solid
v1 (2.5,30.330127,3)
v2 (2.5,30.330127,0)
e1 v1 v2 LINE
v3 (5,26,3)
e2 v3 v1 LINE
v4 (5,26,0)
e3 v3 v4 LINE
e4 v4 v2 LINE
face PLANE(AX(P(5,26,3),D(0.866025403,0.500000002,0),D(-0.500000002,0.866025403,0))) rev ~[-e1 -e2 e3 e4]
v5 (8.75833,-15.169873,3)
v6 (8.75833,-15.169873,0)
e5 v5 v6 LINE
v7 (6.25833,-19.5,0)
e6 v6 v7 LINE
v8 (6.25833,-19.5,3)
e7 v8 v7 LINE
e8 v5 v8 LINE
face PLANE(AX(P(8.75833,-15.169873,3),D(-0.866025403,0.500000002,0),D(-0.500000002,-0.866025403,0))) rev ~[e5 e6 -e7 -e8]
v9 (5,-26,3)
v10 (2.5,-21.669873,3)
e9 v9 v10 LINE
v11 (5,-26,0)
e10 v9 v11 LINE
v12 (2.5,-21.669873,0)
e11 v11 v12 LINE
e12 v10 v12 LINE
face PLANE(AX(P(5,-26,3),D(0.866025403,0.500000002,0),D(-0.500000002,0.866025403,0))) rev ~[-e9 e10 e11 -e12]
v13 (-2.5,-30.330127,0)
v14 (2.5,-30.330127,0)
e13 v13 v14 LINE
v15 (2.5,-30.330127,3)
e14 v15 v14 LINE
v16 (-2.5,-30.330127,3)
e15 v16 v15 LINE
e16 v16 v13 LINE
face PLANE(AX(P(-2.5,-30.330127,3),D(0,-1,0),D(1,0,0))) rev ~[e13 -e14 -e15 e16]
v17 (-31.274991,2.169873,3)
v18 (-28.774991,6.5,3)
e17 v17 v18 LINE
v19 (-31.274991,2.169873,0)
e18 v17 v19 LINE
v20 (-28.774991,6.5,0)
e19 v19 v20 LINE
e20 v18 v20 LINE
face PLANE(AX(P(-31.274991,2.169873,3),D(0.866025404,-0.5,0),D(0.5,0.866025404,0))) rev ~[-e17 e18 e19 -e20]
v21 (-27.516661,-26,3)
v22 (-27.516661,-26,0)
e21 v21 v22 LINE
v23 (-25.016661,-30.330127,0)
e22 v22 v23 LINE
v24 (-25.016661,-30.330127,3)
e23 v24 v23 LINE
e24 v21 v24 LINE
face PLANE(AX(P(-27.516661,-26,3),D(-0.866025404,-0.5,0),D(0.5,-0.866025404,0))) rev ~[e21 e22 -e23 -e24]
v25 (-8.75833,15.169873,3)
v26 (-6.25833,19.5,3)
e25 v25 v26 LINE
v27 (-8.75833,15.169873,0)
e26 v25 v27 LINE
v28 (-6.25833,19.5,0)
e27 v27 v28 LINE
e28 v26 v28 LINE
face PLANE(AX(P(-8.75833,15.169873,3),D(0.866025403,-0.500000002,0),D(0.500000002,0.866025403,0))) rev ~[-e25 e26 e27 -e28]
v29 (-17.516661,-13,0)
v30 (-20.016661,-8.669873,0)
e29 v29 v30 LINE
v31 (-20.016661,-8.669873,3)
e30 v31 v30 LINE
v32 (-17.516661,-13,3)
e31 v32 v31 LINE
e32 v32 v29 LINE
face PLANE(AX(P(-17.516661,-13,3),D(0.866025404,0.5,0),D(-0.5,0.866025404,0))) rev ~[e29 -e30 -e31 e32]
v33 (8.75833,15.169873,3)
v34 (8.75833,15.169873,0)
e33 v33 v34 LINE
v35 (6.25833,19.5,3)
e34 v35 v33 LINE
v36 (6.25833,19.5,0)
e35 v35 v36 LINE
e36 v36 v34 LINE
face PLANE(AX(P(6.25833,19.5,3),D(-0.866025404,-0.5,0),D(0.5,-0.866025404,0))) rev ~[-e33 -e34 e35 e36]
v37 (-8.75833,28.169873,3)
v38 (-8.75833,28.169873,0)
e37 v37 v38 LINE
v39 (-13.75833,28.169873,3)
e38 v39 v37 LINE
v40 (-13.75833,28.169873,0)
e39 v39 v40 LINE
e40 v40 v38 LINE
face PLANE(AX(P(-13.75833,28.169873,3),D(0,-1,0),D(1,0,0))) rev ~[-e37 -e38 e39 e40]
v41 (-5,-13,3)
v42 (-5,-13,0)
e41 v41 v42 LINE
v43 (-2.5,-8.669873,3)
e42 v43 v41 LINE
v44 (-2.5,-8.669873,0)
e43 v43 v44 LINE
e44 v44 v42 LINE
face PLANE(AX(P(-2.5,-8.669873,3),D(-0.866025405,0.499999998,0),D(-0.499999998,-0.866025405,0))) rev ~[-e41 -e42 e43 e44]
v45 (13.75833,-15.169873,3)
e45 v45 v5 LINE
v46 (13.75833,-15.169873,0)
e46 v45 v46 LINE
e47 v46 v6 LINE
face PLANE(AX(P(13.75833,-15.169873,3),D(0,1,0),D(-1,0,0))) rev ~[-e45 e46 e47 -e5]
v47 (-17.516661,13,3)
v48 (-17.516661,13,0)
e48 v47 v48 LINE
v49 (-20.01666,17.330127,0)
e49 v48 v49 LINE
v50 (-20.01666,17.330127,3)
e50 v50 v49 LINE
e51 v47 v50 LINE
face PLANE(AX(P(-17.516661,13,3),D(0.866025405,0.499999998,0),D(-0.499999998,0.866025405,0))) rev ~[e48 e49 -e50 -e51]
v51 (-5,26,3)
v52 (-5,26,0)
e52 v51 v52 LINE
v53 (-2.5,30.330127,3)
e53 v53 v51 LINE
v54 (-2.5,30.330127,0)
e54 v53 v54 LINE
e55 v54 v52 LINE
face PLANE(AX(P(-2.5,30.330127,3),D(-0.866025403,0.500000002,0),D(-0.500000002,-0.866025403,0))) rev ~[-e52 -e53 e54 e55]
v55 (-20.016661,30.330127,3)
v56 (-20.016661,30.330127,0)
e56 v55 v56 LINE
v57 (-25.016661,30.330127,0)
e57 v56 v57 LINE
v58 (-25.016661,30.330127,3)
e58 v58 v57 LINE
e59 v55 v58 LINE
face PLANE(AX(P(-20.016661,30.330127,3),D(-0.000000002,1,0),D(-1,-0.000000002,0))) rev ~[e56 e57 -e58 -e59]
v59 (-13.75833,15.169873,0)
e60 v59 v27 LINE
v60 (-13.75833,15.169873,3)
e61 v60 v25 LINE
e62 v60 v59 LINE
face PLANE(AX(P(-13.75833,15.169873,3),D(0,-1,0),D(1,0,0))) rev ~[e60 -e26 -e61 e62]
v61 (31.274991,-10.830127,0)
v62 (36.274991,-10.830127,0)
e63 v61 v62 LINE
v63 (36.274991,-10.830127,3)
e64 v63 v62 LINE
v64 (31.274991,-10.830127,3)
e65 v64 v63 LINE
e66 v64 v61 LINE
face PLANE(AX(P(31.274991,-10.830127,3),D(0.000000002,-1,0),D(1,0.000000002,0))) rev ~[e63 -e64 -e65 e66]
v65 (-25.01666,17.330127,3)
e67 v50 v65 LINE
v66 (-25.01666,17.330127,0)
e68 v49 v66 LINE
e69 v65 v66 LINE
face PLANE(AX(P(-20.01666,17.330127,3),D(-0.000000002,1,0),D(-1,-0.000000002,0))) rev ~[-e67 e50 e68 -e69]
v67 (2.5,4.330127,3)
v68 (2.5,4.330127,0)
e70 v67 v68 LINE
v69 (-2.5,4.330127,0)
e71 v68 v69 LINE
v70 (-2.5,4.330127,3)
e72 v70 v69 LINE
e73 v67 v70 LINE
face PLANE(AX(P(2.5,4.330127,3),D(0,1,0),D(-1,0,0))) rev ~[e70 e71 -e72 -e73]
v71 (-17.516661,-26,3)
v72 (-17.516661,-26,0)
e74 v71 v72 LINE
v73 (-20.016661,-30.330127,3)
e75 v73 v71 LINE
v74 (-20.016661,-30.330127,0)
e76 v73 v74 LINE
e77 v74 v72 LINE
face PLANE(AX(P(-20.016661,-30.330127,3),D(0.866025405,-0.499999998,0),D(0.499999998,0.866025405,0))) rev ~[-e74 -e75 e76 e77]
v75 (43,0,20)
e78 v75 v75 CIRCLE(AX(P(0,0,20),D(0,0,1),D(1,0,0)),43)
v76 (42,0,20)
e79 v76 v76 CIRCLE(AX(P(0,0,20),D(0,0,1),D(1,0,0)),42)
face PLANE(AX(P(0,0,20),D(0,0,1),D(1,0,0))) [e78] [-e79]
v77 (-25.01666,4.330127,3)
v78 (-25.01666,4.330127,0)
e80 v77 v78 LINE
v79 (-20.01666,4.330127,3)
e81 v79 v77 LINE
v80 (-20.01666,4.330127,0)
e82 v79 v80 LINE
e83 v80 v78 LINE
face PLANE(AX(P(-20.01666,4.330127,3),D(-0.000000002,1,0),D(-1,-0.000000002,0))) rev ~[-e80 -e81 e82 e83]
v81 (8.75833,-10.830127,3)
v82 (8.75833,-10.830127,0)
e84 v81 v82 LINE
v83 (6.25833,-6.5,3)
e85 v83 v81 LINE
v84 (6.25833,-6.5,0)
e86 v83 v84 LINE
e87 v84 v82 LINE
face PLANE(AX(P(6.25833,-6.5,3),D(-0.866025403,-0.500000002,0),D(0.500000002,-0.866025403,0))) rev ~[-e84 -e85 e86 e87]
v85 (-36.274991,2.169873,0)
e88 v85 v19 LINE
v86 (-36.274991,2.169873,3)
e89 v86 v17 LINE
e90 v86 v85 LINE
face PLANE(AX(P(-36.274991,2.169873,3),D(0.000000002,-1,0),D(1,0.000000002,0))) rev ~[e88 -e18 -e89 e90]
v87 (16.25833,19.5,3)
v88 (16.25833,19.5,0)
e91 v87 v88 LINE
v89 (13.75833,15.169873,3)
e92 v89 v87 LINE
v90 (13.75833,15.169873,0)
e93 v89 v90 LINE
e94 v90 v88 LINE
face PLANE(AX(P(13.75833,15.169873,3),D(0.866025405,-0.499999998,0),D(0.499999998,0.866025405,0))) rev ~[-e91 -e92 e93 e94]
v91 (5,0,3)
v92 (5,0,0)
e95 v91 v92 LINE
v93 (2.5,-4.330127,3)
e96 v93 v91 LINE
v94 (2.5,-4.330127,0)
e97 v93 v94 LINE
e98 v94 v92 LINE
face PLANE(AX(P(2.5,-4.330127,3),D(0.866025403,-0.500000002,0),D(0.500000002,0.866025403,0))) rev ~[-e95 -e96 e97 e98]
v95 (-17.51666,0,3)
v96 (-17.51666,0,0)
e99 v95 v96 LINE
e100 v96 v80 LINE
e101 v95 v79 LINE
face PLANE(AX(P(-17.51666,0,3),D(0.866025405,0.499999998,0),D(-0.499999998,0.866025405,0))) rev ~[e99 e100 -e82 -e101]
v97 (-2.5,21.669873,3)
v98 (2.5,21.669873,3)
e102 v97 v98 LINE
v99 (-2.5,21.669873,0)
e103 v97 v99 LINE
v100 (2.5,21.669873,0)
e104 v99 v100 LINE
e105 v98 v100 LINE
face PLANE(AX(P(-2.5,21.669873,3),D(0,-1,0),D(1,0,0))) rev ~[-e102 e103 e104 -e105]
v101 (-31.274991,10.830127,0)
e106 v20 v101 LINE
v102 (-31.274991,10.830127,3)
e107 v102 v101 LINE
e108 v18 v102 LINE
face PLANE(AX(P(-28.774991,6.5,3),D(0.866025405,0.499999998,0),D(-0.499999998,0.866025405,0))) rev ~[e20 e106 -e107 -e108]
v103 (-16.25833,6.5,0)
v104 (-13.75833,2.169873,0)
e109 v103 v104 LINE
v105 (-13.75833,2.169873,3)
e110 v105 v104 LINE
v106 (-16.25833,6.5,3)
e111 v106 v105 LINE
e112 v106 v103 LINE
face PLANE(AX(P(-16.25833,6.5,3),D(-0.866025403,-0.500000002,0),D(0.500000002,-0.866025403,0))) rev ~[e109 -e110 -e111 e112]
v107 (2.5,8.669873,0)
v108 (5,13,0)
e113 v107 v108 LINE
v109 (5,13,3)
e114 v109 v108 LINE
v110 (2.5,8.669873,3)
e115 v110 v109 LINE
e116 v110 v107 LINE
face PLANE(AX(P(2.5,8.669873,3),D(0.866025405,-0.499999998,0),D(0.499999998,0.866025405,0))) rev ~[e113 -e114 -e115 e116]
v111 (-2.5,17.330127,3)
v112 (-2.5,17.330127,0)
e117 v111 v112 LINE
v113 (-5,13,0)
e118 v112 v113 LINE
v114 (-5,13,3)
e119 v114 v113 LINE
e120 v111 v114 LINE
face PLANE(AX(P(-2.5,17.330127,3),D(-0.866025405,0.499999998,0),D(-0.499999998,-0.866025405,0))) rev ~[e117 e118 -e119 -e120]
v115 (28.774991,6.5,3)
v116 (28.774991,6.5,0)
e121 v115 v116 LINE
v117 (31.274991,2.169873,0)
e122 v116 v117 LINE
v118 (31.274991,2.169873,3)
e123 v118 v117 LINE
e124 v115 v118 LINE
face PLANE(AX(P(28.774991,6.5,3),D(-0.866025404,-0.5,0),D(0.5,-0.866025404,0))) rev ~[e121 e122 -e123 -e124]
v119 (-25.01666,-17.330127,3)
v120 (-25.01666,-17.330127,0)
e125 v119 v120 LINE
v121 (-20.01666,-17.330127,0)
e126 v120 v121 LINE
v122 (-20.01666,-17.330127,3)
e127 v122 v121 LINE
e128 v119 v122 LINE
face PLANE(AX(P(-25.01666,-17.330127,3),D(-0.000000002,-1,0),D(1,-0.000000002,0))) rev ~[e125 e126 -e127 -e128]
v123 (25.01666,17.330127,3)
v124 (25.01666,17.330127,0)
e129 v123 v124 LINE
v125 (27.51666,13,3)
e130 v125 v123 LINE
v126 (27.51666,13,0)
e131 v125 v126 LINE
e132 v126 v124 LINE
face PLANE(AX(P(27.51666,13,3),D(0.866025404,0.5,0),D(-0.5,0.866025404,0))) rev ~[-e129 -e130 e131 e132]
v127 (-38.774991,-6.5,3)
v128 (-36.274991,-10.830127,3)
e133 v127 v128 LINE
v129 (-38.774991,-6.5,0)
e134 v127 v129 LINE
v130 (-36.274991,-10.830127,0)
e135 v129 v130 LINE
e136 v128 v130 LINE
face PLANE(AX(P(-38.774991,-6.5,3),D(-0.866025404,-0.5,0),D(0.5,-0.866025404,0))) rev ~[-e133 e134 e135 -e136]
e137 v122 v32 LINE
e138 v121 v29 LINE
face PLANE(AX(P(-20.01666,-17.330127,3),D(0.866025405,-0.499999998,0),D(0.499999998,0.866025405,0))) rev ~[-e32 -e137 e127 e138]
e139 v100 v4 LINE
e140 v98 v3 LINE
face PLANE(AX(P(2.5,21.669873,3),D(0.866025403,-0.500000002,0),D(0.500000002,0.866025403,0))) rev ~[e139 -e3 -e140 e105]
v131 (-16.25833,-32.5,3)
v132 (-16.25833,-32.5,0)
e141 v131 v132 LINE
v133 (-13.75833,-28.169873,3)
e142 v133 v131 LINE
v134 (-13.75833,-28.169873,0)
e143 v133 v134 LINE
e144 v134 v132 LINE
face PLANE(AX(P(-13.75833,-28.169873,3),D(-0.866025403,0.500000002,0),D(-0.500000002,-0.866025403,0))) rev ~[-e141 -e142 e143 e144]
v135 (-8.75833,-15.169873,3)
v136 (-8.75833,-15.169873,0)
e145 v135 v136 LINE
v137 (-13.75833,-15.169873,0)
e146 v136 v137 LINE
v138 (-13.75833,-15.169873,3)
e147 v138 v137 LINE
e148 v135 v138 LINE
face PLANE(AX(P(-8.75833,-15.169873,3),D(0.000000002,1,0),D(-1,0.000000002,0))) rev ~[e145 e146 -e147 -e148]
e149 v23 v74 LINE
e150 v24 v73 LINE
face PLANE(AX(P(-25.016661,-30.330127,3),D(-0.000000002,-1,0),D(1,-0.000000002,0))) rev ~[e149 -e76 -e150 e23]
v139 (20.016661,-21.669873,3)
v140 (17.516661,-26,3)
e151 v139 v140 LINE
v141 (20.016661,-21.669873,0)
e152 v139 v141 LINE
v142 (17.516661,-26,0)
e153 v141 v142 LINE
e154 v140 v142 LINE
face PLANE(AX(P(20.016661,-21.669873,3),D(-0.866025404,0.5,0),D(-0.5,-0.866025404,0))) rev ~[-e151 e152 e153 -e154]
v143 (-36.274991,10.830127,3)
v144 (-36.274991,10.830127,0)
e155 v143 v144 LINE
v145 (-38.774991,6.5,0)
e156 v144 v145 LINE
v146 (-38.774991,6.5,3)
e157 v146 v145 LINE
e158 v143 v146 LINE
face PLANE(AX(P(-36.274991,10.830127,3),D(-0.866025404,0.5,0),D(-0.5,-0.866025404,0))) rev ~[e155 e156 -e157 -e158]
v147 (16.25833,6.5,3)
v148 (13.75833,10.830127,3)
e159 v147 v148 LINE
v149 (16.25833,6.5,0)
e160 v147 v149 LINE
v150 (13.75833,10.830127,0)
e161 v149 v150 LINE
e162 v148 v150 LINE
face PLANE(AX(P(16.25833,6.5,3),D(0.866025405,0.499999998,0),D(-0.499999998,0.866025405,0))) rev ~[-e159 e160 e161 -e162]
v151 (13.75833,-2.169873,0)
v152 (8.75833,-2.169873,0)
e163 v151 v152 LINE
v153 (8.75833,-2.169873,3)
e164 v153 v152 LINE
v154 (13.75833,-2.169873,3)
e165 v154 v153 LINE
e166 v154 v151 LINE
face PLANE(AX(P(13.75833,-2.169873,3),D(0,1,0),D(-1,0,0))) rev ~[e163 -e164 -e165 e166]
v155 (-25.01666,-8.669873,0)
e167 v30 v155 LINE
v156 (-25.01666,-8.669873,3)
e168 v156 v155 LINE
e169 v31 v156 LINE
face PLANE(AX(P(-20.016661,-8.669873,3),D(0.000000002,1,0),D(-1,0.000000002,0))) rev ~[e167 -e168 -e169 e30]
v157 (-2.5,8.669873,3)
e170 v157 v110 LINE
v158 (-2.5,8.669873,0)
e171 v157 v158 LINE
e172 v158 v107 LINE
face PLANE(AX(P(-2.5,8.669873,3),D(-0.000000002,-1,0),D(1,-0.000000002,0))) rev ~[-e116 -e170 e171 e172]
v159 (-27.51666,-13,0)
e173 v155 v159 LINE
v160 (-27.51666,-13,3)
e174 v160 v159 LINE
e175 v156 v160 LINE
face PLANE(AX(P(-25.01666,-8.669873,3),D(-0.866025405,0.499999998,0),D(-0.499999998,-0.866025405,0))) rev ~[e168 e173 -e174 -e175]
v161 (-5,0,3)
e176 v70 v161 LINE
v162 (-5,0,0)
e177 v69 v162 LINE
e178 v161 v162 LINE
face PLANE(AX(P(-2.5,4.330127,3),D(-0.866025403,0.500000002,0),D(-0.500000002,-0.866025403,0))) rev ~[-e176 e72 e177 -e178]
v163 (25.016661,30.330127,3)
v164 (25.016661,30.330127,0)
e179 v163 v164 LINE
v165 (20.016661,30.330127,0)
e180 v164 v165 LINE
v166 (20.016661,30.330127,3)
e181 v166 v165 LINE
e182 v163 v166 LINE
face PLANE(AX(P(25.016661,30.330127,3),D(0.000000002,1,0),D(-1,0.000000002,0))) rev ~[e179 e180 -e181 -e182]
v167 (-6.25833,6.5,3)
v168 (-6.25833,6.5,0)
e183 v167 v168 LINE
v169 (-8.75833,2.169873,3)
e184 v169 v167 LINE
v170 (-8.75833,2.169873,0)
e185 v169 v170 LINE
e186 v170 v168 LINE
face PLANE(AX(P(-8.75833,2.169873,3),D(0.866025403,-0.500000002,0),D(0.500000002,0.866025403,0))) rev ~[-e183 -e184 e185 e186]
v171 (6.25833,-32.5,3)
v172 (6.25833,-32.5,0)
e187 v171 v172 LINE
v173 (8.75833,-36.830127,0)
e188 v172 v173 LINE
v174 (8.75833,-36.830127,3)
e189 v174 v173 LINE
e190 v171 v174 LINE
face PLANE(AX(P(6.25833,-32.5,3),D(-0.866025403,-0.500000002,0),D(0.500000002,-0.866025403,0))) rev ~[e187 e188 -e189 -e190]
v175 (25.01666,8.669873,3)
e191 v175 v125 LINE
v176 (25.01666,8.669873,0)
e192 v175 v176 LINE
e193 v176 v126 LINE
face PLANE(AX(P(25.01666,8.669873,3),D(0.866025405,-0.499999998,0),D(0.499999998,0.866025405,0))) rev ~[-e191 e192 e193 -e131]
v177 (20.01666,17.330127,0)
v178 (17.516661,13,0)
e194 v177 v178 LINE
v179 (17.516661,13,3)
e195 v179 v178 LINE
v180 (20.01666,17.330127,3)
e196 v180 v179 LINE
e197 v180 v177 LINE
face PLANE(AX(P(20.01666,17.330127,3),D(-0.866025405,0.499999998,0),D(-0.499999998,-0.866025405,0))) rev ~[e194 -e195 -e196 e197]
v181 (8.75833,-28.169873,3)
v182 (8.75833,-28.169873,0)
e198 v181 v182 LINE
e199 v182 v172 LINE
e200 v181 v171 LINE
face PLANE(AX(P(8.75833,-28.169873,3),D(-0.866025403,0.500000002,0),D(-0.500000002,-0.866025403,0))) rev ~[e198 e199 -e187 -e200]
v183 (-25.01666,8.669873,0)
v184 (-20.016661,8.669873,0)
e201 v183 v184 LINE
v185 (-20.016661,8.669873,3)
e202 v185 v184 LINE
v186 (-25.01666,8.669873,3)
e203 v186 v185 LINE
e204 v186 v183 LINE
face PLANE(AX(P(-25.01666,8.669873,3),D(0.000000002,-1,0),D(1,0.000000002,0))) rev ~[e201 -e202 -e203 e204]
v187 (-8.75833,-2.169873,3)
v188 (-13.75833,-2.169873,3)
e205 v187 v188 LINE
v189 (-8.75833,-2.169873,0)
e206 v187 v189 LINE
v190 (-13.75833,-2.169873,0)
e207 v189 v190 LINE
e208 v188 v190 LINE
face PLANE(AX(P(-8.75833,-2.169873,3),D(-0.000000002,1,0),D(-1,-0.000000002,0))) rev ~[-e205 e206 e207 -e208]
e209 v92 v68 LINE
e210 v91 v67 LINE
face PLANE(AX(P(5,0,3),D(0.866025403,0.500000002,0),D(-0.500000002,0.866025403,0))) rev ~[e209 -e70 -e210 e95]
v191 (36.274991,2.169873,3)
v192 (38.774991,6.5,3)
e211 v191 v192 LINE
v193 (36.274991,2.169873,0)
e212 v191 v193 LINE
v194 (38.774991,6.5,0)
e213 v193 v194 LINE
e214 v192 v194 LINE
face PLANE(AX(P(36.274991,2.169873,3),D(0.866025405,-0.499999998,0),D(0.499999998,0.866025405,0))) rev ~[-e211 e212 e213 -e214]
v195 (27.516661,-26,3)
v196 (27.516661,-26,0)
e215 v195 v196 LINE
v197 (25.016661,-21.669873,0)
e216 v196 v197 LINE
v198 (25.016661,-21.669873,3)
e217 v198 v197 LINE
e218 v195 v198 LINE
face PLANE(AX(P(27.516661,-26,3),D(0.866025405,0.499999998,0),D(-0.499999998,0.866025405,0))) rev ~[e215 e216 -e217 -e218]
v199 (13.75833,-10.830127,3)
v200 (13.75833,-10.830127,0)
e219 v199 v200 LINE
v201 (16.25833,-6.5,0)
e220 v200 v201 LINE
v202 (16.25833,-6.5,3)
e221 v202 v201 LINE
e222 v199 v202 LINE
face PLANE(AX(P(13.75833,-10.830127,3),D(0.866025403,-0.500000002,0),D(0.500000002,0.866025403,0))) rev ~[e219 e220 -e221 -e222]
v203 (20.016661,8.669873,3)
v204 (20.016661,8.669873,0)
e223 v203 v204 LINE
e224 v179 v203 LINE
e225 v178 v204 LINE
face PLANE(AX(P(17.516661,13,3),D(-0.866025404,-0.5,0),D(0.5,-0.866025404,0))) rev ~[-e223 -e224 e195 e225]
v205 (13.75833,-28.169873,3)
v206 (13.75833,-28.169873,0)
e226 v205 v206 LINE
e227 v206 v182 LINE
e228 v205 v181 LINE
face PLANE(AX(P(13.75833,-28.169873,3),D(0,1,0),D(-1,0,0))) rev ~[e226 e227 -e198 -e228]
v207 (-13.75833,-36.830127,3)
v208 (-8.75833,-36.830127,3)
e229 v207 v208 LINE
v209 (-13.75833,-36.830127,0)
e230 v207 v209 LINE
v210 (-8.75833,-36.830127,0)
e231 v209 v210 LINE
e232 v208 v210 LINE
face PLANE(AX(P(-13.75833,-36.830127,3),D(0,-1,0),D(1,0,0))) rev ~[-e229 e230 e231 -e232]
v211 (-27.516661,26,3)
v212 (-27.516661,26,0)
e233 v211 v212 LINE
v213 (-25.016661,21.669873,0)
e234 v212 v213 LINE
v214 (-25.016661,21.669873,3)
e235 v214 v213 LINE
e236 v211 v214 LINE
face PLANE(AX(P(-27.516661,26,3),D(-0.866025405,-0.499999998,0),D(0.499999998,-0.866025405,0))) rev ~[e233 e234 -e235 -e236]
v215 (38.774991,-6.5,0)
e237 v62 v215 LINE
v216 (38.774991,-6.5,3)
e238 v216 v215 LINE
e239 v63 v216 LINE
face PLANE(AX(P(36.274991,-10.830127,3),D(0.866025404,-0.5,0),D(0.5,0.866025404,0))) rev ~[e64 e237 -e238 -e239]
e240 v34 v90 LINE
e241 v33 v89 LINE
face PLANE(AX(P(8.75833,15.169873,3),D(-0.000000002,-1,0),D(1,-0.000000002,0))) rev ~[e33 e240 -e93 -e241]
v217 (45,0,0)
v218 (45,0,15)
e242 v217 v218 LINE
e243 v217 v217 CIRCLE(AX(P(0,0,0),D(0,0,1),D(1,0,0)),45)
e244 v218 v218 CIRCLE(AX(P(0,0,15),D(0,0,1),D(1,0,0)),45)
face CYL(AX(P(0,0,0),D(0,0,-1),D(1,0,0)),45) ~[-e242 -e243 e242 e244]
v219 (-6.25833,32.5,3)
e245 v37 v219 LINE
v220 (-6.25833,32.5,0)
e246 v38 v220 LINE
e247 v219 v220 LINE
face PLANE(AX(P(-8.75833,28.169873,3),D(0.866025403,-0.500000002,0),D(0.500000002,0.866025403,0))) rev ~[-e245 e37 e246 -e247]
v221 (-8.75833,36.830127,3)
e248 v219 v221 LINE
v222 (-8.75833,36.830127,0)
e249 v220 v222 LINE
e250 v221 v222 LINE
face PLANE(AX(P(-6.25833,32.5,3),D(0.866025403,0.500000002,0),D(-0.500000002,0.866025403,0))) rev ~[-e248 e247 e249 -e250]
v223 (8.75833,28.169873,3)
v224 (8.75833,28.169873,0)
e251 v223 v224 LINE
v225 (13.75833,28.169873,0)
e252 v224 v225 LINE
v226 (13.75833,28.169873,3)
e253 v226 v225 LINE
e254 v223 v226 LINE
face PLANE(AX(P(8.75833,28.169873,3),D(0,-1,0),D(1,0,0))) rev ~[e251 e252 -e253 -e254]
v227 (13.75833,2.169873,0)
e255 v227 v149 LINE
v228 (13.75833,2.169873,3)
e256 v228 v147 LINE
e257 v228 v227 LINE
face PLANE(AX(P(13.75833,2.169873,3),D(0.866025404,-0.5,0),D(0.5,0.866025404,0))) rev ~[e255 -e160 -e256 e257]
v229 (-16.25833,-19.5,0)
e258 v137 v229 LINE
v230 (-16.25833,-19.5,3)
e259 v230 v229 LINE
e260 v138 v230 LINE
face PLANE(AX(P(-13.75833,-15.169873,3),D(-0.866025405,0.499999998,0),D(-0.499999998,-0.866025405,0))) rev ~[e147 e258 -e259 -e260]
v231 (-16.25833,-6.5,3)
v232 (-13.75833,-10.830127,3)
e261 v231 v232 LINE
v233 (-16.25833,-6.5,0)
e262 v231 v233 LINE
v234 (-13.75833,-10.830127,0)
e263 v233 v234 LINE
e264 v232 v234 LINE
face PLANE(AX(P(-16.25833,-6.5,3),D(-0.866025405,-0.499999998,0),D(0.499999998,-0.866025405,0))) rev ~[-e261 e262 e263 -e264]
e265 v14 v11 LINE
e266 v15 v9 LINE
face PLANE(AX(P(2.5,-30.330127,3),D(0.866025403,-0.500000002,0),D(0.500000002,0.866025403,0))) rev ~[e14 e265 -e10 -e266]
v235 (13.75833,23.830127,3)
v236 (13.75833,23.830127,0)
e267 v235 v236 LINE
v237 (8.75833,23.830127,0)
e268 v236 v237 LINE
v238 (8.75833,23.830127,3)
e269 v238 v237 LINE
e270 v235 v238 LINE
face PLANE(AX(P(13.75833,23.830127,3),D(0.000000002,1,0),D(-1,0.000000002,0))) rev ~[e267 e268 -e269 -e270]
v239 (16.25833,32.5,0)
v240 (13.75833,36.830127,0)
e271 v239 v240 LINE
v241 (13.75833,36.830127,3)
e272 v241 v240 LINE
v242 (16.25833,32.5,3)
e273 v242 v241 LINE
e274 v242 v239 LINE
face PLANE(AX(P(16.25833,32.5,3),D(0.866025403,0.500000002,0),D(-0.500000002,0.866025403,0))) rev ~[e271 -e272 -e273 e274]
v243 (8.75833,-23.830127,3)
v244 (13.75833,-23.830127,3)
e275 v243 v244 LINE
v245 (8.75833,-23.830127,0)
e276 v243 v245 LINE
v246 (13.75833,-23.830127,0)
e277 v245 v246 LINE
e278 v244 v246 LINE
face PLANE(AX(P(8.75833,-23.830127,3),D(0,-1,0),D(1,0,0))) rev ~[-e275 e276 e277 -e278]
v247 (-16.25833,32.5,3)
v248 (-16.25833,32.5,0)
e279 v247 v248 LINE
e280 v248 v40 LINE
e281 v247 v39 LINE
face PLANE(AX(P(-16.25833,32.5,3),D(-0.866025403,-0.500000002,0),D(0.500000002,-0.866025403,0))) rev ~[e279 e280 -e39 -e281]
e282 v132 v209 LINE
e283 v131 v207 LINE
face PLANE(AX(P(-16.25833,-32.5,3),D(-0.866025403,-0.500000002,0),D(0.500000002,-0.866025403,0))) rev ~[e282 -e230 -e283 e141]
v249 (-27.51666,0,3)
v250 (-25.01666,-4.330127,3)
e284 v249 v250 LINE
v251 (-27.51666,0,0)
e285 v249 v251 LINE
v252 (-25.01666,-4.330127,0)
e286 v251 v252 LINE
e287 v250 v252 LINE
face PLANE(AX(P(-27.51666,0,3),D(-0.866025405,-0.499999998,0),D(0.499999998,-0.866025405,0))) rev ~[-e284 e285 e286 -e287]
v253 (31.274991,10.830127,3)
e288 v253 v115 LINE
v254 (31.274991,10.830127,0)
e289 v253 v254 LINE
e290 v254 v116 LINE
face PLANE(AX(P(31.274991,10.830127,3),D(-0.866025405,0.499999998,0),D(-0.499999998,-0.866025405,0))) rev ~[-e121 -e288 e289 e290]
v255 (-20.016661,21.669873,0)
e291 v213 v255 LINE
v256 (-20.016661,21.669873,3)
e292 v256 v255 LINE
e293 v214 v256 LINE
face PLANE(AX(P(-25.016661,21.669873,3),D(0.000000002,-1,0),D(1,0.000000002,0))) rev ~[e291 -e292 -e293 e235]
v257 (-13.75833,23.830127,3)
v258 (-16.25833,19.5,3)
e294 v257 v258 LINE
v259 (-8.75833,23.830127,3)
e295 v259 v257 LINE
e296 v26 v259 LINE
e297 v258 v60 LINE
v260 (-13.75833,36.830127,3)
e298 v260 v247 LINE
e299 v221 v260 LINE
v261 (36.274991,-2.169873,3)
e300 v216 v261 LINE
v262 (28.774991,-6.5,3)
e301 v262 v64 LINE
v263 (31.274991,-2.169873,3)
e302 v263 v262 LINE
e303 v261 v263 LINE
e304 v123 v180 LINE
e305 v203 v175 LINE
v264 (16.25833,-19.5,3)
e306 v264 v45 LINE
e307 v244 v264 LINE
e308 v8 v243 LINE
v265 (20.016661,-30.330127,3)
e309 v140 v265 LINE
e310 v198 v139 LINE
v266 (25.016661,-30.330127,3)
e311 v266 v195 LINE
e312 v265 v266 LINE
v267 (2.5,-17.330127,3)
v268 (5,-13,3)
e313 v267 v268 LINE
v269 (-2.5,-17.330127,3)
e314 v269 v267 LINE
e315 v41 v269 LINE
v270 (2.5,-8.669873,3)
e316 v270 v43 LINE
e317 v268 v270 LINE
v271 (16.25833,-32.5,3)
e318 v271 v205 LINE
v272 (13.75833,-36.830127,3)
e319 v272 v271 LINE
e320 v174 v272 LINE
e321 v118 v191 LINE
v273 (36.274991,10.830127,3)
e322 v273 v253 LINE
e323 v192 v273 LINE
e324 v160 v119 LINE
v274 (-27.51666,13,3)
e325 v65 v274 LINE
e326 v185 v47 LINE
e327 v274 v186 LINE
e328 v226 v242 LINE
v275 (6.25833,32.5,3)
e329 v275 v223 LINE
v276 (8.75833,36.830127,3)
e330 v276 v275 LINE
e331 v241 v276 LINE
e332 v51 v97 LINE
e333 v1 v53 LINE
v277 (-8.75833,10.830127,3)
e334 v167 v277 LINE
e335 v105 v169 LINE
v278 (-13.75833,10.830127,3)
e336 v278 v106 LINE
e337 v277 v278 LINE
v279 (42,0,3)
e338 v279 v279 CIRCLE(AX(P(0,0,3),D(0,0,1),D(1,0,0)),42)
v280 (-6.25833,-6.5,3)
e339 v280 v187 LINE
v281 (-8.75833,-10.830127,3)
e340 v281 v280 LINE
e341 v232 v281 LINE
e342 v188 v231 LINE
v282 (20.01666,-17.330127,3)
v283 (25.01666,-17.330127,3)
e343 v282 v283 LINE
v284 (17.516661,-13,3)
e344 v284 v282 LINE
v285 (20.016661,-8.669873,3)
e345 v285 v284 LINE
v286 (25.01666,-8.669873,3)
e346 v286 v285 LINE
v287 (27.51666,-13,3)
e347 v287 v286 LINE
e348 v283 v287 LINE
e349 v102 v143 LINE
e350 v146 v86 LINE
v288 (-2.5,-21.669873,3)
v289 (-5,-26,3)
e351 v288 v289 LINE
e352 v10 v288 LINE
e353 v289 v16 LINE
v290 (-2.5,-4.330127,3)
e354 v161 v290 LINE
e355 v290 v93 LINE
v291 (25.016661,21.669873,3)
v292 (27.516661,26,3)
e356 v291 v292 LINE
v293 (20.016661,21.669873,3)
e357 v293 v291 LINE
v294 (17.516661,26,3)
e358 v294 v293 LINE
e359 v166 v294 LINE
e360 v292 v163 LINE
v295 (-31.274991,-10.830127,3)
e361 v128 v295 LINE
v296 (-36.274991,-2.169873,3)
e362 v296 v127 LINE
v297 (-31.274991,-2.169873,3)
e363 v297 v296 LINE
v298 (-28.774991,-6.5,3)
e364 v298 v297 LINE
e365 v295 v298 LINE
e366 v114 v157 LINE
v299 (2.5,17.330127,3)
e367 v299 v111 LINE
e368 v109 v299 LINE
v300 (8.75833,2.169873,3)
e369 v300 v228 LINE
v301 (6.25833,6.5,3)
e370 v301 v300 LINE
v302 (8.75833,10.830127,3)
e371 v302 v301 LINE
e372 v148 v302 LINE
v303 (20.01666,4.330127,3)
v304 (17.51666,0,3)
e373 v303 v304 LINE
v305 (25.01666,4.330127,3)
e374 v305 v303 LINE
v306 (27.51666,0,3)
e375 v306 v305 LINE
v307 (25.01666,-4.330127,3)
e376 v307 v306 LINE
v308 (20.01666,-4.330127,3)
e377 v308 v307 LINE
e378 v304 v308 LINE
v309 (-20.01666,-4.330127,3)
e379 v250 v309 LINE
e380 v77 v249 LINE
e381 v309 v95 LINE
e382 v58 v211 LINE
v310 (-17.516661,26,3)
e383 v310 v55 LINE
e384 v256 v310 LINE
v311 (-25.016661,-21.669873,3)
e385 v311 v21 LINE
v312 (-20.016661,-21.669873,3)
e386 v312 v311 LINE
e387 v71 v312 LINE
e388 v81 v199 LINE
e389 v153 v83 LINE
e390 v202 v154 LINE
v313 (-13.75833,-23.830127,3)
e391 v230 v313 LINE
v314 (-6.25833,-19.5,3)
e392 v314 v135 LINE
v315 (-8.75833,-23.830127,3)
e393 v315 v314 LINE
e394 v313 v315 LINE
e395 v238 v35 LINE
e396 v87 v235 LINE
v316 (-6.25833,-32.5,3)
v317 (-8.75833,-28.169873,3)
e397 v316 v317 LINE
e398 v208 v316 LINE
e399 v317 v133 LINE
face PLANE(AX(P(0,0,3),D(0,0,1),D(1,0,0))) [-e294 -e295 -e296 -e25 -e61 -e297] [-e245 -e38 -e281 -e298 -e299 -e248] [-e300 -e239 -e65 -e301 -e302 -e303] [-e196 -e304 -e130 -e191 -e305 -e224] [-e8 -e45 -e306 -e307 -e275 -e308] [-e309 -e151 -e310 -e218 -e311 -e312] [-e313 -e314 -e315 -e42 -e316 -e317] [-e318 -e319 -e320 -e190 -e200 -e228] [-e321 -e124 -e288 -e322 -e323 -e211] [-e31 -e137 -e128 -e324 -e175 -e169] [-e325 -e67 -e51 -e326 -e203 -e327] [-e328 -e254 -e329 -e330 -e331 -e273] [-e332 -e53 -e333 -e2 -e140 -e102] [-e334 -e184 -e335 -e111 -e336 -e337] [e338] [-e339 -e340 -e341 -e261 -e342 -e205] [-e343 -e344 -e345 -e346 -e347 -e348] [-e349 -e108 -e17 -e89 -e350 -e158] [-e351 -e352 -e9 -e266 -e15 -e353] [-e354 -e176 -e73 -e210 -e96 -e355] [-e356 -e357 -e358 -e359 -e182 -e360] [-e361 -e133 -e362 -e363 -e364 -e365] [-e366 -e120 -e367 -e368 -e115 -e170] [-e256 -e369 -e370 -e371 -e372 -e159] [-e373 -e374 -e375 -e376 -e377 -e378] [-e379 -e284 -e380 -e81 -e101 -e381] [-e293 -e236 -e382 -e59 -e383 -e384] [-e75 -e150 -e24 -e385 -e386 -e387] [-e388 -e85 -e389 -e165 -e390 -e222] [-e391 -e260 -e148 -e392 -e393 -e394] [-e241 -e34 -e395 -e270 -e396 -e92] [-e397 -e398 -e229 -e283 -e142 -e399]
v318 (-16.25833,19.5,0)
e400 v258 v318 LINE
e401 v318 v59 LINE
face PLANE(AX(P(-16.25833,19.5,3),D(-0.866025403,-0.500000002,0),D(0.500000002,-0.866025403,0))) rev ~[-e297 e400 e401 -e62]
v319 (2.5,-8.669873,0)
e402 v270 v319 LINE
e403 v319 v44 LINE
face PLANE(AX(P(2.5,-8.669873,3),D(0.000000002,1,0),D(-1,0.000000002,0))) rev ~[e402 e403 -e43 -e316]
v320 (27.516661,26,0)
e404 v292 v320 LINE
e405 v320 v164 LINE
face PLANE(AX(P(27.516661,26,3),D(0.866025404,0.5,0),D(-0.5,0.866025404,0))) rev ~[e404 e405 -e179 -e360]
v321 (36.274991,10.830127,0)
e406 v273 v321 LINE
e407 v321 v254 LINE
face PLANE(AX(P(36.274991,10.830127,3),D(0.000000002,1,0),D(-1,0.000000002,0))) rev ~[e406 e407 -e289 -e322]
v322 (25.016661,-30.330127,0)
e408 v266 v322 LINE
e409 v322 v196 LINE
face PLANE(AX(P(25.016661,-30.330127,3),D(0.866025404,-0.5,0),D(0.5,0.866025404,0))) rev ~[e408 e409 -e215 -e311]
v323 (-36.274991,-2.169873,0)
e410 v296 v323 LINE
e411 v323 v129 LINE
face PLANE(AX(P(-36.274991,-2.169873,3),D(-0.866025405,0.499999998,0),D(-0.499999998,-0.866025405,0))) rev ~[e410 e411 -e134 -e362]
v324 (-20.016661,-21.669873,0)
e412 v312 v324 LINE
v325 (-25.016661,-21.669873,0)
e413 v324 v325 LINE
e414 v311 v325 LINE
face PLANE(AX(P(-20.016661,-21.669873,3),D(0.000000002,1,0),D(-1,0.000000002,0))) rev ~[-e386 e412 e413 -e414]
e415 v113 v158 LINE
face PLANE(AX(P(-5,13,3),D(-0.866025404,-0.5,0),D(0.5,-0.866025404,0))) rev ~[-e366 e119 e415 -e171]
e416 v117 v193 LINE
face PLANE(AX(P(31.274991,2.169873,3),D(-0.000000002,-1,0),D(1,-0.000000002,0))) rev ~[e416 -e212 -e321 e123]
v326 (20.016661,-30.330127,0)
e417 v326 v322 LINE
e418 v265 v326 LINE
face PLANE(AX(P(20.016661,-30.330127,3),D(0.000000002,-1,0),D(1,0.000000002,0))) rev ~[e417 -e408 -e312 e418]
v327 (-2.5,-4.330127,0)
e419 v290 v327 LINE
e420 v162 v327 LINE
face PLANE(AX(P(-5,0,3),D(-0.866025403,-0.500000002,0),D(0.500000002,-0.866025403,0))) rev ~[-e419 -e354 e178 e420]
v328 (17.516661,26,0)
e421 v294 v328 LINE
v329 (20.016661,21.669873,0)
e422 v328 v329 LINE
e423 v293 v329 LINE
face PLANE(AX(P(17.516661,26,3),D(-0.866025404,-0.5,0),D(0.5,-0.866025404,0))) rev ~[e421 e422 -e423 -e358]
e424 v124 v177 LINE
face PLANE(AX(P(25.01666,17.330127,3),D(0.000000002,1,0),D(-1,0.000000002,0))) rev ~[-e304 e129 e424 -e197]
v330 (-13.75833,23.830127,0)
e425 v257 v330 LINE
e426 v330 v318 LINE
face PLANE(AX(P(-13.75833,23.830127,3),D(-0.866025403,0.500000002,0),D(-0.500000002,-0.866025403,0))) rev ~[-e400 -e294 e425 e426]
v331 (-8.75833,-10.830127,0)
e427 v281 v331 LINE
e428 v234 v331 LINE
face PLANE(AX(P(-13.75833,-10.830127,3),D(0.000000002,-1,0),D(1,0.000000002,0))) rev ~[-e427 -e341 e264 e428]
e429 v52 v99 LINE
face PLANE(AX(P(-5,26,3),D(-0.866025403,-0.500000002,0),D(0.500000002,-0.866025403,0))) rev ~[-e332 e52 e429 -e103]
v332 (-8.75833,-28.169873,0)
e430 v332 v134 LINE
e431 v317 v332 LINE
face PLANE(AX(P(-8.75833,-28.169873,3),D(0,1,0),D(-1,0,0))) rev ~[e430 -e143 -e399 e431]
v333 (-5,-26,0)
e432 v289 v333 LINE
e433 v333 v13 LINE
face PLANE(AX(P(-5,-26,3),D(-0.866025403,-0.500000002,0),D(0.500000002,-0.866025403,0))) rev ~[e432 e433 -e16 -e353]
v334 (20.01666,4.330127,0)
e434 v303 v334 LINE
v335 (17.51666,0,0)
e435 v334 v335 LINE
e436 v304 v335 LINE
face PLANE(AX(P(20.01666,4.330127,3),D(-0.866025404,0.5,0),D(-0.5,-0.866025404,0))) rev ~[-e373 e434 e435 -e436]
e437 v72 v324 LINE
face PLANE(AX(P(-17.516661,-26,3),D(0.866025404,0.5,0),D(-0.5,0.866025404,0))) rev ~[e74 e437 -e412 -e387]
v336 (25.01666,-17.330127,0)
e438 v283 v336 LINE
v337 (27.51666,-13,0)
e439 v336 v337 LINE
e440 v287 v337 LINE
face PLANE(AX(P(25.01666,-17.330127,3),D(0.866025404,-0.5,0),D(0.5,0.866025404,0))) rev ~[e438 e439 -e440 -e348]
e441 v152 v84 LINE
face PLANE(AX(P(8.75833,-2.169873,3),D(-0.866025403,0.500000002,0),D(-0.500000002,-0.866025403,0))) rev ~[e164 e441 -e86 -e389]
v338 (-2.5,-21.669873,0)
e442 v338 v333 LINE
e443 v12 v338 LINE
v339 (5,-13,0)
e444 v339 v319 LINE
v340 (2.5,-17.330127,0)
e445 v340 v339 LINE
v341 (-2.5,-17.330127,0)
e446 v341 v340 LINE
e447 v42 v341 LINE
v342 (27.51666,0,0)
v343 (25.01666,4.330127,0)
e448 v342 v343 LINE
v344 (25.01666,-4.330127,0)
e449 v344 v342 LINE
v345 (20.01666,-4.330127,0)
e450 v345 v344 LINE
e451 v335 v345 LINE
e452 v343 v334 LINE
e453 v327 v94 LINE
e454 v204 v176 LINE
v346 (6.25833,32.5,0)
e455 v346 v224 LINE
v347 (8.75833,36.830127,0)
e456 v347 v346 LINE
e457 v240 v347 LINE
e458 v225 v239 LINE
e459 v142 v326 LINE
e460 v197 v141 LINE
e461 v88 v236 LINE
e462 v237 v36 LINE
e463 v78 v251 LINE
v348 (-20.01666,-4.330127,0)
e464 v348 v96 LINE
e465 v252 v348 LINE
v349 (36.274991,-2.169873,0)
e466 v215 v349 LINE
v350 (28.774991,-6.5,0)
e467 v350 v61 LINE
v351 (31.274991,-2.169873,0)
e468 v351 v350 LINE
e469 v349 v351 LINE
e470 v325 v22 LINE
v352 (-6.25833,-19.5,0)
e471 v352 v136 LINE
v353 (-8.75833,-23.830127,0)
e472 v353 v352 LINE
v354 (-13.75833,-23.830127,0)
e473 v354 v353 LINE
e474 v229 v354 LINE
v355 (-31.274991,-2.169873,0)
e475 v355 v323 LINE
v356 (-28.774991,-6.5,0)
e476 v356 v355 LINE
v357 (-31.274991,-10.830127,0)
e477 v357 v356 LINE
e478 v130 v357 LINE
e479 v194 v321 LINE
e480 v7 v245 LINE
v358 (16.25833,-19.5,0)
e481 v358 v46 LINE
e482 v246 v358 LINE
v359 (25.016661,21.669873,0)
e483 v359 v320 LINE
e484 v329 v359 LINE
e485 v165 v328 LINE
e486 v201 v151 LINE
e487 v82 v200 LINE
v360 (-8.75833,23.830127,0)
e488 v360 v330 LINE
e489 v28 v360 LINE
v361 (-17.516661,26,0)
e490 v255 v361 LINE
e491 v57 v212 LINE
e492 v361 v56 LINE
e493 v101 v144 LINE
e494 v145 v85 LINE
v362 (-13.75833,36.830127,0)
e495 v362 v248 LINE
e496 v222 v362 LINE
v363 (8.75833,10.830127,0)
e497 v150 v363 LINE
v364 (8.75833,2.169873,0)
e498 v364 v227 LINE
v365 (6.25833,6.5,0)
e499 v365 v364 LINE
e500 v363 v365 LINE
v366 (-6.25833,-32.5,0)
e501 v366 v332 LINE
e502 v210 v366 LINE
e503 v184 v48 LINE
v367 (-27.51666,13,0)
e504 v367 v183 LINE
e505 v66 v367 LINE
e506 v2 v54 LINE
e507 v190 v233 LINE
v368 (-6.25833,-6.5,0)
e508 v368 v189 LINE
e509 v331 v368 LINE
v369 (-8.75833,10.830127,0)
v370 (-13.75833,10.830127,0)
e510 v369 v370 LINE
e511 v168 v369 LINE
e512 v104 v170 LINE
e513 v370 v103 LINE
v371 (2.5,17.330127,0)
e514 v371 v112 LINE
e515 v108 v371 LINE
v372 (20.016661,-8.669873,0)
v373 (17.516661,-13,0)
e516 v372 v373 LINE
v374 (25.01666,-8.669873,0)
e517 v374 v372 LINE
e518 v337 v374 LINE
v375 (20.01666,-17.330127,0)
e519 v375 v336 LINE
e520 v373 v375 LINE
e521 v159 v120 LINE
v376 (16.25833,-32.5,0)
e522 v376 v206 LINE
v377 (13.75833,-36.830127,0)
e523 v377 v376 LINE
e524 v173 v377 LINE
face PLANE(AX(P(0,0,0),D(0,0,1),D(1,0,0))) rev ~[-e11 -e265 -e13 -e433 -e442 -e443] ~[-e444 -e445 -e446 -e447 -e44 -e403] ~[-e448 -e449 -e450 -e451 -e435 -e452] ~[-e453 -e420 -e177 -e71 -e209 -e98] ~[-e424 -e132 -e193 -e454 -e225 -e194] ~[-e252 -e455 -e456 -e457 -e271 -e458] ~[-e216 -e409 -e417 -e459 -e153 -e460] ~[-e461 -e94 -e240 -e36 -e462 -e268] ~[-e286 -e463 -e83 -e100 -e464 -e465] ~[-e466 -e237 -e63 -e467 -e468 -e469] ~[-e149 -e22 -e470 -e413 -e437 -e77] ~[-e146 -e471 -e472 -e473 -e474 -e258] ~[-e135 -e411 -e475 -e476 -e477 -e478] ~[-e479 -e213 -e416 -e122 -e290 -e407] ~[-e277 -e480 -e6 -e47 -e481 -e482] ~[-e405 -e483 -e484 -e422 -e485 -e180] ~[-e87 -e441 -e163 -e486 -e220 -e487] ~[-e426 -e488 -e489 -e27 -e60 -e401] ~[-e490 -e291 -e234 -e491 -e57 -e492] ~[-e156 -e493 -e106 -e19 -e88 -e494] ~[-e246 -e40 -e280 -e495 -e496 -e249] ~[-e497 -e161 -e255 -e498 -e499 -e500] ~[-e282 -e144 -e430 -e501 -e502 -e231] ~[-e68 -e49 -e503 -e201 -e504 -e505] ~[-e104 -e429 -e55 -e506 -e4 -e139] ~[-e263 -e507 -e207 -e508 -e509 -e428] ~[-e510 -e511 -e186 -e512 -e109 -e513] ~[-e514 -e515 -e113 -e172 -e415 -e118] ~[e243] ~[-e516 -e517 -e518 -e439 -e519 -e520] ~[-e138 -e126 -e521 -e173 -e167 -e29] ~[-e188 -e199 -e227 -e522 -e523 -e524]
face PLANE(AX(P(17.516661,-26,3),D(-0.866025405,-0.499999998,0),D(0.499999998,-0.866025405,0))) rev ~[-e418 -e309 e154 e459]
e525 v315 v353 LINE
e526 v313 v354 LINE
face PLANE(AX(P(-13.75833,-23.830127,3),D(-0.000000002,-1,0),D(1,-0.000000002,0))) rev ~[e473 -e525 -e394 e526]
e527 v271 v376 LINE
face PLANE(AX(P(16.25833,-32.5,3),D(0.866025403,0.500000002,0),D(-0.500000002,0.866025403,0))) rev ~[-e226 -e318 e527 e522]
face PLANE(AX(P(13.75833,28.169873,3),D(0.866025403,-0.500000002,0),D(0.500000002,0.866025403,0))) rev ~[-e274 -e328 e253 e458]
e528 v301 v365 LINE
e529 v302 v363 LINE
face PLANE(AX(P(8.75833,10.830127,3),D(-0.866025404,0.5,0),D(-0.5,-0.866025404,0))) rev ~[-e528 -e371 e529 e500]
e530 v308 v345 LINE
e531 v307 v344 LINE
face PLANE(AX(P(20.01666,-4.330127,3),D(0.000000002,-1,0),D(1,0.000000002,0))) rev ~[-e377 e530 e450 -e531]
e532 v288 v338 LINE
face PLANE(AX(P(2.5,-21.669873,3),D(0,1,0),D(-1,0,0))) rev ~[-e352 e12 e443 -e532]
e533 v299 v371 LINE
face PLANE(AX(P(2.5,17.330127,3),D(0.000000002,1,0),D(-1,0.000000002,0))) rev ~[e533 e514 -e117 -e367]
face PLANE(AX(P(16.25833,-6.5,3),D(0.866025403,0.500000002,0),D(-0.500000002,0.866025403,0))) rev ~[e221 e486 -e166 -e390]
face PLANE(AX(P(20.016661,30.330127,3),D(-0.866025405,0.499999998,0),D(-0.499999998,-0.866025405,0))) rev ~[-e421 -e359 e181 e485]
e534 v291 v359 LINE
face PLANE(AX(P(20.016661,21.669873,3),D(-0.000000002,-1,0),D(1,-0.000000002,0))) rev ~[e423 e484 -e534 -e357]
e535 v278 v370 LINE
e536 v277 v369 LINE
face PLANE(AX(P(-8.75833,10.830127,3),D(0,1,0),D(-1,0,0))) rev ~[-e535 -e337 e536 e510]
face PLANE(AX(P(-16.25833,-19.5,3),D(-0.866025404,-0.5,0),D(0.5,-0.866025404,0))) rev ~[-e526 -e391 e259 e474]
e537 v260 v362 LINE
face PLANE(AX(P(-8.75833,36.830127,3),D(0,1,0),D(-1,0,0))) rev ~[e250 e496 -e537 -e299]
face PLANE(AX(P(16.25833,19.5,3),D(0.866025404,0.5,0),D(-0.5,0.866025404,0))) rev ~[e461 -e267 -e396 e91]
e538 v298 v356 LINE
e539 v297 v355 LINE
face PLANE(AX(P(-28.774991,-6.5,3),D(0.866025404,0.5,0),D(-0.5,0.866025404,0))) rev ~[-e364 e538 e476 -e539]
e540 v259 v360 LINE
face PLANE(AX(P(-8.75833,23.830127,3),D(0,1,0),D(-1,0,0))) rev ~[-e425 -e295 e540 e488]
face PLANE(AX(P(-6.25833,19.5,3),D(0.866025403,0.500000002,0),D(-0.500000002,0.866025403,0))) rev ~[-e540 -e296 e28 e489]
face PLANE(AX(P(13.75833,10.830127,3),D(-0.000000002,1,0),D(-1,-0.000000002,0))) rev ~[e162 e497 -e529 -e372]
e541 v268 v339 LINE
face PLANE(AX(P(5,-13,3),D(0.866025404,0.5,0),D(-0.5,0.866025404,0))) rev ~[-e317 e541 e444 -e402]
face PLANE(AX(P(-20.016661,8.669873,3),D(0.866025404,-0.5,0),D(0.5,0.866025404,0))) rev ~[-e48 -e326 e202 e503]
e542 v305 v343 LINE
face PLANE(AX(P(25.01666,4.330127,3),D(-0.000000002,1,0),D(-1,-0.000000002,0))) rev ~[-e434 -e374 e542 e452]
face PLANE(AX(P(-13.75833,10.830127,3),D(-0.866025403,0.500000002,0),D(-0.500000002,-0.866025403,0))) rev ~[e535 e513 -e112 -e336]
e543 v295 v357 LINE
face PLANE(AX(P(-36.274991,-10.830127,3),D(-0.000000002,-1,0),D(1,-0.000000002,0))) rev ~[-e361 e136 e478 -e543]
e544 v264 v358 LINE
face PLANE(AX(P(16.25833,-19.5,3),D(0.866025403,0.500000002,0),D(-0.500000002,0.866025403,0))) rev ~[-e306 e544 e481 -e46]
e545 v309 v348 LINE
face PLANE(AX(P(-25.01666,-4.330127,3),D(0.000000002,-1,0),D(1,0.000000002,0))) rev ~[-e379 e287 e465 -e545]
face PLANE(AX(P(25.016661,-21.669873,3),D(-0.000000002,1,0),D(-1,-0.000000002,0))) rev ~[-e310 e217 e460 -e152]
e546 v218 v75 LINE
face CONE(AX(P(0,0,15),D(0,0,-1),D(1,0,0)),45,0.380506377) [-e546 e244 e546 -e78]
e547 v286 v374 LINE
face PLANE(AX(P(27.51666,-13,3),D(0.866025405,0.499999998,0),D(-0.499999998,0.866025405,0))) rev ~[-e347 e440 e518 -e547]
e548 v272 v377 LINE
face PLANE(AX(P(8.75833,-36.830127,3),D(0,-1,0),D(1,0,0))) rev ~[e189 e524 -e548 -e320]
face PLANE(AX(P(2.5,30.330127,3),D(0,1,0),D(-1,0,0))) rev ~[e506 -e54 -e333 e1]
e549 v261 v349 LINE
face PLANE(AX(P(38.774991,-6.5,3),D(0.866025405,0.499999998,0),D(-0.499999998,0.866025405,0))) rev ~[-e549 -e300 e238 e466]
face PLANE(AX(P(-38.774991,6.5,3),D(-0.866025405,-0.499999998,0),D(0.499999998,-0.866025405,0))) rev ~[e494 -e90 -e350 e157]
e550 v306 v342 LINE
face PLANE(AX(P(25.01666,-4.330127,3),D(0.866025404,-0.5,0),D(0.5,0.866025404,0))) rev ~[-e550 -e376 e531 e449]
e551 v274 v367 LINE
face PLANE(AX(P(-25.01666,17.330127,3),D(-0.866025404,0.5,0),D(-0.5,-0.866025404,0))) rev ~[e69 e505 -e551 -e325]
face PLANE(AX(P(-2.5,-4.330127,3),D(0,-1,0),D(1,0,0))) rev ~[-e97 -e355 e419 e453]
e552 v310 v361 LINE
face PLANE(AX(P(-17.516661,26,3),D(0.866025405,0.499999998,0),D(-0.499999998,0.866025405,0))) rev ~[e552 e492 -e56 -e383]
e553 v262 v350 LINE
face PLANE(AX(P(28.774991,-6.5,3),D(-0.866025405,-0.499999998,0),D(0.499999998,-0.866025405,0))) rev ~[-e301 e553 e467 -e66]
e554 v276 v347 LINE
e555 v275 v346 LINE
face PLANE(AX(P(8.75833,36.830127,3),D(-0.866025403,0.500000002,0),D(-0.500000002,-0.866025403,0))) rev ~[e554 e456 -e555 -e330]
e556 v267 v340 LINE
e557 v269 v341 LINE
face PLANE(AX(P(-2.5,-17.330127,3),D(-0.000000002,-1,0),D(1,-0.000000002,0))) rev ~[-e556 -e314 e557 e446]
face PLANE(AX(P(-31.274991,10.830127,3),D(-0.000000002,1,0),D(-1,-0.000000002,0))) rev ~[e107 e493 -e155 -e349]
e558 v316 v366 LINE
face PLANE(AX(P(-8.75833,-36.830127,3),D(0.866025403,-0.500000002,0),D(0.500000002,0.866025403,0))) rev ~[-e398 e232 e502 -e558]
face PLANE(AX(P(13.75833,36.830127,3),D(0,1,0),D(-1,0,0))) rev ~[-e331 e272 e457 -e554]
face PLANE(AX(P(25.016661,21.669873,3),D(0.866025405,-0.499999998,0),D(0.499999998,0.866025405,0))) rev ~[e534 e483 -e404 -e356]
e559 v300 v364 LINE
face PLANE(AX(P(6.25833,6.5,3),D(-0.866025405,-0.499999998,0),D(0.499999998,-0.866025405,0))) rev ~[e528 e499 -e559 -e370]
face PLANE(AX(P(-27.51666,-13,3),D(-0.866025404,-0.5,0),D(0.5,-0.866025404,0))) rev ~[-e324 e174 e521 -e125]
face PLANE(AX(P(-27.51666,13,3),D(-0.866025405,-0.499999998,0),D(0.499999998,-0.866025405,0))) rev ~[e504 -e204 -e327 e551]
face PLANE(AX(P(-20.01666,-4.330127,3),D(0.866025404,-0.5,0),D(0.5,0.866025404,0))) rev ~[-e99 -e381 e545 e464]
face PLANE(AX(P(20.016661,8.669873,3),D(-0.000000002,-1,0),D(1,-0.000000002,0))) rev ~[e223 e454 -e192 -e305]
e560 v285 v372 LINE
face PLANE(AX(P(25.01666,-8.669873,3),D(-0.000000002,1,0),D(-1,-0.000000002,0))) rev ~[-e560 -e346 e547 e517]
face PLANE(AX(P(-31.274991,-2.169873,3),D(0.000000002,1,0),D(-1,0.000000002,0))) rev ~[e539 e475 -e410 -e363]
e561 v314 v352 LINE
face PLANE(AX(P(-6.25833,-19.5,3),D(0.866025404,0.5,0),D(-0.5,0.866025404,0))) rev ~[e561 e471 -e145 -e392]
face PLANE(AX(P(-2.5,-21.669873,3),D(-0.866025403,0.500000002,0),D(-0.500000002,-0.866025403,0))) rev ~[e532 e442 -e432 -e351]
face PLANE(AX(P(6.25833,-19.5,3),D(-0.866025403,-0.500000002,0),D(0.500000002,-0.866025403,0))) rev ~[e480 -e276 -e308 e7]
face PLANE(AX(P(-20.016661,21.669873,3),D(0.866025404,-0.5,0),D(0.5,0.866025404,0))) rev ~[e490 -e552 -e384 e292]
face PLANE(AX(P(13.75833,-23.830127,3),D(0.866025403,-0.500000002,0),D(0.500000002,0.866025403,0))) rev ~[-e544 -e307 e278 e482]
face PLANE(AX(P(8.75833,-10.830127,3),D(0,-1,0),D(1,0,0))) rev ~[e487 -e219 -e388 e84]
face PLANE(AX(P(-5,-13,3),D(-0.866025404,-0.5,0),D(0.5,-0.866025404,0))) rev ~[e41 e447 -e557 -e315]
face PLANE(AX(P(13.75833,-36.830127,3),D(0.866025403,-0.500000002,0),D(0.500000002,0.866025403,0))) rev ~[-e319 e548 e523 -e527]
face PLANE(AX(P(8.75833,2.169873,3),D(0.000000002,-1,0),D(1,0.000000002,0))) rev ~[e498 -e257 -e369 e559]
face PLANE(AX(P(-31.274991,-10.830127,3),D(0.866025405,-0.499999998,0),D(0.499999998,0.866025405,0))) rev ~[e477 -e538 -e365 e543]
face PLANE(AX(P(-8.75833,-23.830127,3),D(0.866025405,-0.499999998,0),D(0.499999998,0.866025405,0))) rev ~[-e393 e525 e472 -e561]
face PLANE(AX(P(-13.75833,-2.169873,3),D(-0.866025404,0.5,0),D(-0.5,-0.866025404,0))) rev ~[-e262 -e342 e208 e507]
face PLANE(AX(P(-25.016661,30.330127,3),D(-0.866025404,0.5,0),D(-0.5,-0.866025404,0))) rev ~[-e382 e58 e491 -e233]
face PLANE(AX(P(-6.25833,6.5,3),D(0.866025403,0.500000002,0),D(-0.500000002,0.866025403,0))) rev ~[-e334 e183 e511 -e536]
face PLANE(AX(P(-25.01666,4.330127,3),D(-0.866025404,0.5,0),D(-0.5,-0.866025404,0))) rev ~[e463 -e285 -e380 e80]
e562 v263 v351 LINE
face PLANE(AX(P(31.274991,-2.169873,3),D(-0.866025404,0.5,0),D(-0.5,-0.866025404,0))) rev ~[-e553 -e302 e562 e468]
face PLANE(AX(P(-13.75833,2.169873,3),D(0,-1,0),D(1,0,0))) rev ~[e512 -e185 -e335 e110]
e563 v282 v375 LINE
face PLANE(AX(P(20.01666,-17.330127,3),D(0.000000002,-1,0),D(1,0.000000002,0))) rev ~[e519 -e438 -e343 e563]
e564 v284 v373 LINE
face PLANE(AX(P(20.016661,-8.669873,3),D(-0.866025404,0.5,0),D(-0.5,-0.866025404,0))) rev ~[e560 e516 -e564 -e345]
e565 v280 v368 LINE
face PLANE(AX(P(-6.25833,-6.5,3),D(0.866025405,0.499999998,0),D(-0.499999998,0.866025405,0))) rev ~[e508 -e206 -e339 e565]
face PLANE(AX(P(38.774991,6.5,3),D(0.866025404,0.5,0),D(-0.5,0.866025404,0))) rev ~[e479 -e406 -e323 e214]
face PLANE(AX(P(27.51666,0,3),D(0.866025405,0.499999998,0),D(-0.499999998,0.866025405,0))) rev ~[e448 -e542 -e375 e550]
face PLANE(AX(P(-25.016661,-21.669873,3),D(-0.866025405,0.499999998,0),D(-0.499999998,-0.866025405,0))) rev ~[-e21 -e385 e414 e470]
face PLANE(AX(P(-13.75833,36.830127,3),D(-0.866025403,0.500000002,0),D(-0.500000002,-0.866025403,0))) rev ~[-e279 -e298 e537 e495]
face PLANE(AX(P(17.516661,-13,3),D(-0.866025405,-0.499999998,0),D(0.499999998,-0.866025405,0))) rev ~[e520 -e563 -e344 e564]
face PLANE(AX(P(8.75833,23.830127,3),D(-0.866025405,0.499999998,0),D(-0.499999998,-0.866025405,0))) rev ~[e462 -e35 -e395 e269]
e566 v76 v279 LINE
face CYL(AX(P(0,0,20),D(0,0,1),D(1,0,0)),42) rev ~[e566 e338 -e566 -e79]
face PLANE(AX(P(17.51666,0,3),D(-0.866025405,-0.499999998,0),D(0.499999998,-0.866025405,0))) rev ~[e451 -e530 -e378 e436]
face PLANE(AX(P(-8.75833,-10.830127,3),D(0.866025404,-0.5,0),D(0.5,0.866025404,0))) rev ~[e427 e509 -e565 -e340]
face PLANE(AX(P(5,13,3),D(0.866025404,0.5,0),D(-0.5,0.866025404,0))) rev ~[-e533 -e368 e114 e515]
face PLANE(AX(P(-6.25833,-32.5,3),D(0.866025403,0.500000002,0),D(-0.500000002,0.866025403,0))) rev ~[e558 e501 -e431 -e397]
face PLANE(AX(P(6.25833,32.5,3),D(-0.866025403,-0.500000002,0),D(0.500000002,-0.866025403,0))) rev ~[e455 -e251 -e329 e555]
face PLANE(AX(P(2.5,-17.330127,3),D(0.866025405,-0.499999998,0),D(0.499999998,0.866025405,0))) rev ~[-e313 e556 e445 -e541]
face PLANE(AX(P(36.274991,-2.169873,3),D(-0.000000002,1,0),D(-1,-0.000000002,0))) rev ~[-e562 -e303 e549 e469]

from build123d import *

# Parameters (mm, degrees)
SKETCH_R              = 45
PAD_DEPTH             = 20
SKETCH001_R           = 42
POCKET_DEPTH          = 17
POCKET001_DEPTH       = 5
POLARPATTERN_COUNT    = 6
POCKET002_DEPTH       = 5
POLARPATTERN001_COUNT = 6
POCKET003_DEPTH       = 5
POLARPATTERN002_COUNT = 6
POCKET004_DEPTH       = 5
POLARPATTERN003_COUNT = 6
POCKET005_DEPTH       = 5
POLARPATTERN004_COUNT = 6
POCKET006_DEPTH       = 5
CHAMFER_SIZE2         = 2
CHAMFER_SIZE          = 5


with BuildPart() as part:
    # Sketch → Pad (new body)
    with BuildSketch(Plane.XY):
        Circle(SKETCH_R)
    extrude(amount=PAD_DEPTH)

    # Sketch001 (on Face3 of Pad) → Pocket (cut)
    with BuildSketch(Plane.XY.offset(20)):
        Circle(SKETCH001_R)
    extrude(amount=-POCKET_DEPTH, mode=Mode.SUBTRACT)

    # Sketch003 (on Face5 of Pocket) → Pocket001 (cut)
    with BuildSketch(Plane.XY.offset(3)):
        Polygon((-6.25833, 6.5), (-8.75833, 10.830127), (-13.75833, 10.830127), (-16.25833, 6.5), (-13.75833, 2.169873), (-8.75833, 2.169873), align=None)
    pocket001 = extrude(amount=-POCKET001_DEPTH, mode=Mode.SUBTRACT)

    # PolarPattern: Pocket001 ×6 about axis
    polarpattern_axis = Axis((0, 0, 3), (0, 0, 1))
    for i in range(1, POLARPATTERN_COUNT):
        add(pocket001.rotate(polarpattern_axis, i * 360 / POLARPATTERN_COUNT), mode=Mode.SUBTRACT)

    # Sketch004 (on Face41 of PolarPattern) → Pocket002 (cut)
    with BuildSketch(Plane.XY.offset(3)):
        Polygon((13.75833, -23.830127), (16.25833, -19.5), (13.75833, -15.169873), (8.75833, -15.169873), (6.25833, -19.5), (8.75833, -23.830127), align=None)
    pocket002 = extrude(amount=-POCKET002_DEPTH, mode=Mode.SUBTRACT)

    # PolarPattern001: Pocket002 ×6 about axis
    polarpattern001_axis = Axis((0, 0, 3), (0, 0, 1))
    for i in range(1, POLARPATTERN001_COUNT):
        add(pocket002.rotate(polarpattern001_axis, i * 360 / POLARPATTERN001_COUNT), mode=Mode.SUBTRACT)

    # Sketch005 (on Face77 of PolarPattern001) → Pocket003 (cut)
    with BuildSketch(Plane.XY.offset(3)):
        Polygon((2.5, -30.330127), (5, -26), (2.5, -21.669873), (-2.5, -21.669873), (-5, -26), (-2.5, -30.330127), align=None)
    pocket003 = extrude(amount=-POCKET003_DEPTH, mode=Mode.SUBTRACT)

    # PolarPattern002: Pocket003 ×6 about axis
    polarpattern002_axis = Axis((0, 0, 3), (0, 0, 1))
    for i in range(1, POLARPATTERN002_COUNT):
        add(pocket003.rotate(polarpattern002_axis, i * 360 / POLARPATTERN002_COUNT), mode=Mode.SUBTRACT)

    # Sketch006 (on Face113 of PolarPattern002) → Pocket004 (cut)
    with BuildSketch(Plane.XY.offset(3)):
        Polygon((-8.75833, -36.830127), (-6.25833, -32.5), (-8.75833, -28.169873), (-13.75833, -28.169873), (-16.25833, -32.5), (-13.75833, -36.830127), align=None)
    pocket004 = extrude(amount=-POCKET004_DEPTH, mode=Mode.SUBTRACT)

    # PolarPattern003: Pocket004 ×6 about axis
    polarpattern003_axis = Axis((0, 0, 3), (0, 0, 1))
    for i in range(1, POLARPATTERN003_COUNT):
        add(pocket004.rotate(polarpattern003_axis, i * 360 / POLARPATTERN003_COUNT), mode=Mode.SUBTRACT)

    # Sketch007 (on Face149 of PolarPattern003) → Pocket005 (cut)
    with BuildSketch(Plane.XY.offset(3)):
        Polygon((13.75833, -36.830127), (16.25833, -32.5), (13.75833, -28.169873), (8.75833, -28.169873), (6.25833, -32.5), (8.75833, -36.830127), align=None)
    pocket005 = extrude(amount=-POCKET005_DEPTH, mode=Mode.SUBTRACT)

    # PolarPattern004: Pocket005 ×6 about axis
    polarpattern004_axis = Axis((0, 0, 3), (0, 0, 1))
    for i in range(1, POLARPATTERN004_COUNT):
        add(pocket005.rotate(polarpattern004_axis, i * 360 / POLARPATTERN004_COUNT), mode=Mode.SUBTRACT)

    # Sketch008 (on Face185 of PolarPattern004) → Pocket006 (cut)
    with BuildSketch(Plane.XY.offset(3)):
        Polygon((2.5, -4.330127), (5, 0), (2.5, 4.330127), (-2.5, 4.330127), (-5, 0), (-2.5, -4.330127), align=None)
    extrude(amount=-POCKET006_DEPTH, mode=Mode.SUBTRACT)

    # Chamfer
    chamfer_edges = [part.edges().sort_by_distance(p)[0] for p in [
        (-45, 0, 20),
    ]]
    chamfer_side = part.faces().sort_by_distance((-45, 0, 10))[0]
    chamfer(chamfer_edges, length=CHAMFER_SIZE, length2=CHAMFER_SIZE2, reference=chamfer_side)


solid = part.part
